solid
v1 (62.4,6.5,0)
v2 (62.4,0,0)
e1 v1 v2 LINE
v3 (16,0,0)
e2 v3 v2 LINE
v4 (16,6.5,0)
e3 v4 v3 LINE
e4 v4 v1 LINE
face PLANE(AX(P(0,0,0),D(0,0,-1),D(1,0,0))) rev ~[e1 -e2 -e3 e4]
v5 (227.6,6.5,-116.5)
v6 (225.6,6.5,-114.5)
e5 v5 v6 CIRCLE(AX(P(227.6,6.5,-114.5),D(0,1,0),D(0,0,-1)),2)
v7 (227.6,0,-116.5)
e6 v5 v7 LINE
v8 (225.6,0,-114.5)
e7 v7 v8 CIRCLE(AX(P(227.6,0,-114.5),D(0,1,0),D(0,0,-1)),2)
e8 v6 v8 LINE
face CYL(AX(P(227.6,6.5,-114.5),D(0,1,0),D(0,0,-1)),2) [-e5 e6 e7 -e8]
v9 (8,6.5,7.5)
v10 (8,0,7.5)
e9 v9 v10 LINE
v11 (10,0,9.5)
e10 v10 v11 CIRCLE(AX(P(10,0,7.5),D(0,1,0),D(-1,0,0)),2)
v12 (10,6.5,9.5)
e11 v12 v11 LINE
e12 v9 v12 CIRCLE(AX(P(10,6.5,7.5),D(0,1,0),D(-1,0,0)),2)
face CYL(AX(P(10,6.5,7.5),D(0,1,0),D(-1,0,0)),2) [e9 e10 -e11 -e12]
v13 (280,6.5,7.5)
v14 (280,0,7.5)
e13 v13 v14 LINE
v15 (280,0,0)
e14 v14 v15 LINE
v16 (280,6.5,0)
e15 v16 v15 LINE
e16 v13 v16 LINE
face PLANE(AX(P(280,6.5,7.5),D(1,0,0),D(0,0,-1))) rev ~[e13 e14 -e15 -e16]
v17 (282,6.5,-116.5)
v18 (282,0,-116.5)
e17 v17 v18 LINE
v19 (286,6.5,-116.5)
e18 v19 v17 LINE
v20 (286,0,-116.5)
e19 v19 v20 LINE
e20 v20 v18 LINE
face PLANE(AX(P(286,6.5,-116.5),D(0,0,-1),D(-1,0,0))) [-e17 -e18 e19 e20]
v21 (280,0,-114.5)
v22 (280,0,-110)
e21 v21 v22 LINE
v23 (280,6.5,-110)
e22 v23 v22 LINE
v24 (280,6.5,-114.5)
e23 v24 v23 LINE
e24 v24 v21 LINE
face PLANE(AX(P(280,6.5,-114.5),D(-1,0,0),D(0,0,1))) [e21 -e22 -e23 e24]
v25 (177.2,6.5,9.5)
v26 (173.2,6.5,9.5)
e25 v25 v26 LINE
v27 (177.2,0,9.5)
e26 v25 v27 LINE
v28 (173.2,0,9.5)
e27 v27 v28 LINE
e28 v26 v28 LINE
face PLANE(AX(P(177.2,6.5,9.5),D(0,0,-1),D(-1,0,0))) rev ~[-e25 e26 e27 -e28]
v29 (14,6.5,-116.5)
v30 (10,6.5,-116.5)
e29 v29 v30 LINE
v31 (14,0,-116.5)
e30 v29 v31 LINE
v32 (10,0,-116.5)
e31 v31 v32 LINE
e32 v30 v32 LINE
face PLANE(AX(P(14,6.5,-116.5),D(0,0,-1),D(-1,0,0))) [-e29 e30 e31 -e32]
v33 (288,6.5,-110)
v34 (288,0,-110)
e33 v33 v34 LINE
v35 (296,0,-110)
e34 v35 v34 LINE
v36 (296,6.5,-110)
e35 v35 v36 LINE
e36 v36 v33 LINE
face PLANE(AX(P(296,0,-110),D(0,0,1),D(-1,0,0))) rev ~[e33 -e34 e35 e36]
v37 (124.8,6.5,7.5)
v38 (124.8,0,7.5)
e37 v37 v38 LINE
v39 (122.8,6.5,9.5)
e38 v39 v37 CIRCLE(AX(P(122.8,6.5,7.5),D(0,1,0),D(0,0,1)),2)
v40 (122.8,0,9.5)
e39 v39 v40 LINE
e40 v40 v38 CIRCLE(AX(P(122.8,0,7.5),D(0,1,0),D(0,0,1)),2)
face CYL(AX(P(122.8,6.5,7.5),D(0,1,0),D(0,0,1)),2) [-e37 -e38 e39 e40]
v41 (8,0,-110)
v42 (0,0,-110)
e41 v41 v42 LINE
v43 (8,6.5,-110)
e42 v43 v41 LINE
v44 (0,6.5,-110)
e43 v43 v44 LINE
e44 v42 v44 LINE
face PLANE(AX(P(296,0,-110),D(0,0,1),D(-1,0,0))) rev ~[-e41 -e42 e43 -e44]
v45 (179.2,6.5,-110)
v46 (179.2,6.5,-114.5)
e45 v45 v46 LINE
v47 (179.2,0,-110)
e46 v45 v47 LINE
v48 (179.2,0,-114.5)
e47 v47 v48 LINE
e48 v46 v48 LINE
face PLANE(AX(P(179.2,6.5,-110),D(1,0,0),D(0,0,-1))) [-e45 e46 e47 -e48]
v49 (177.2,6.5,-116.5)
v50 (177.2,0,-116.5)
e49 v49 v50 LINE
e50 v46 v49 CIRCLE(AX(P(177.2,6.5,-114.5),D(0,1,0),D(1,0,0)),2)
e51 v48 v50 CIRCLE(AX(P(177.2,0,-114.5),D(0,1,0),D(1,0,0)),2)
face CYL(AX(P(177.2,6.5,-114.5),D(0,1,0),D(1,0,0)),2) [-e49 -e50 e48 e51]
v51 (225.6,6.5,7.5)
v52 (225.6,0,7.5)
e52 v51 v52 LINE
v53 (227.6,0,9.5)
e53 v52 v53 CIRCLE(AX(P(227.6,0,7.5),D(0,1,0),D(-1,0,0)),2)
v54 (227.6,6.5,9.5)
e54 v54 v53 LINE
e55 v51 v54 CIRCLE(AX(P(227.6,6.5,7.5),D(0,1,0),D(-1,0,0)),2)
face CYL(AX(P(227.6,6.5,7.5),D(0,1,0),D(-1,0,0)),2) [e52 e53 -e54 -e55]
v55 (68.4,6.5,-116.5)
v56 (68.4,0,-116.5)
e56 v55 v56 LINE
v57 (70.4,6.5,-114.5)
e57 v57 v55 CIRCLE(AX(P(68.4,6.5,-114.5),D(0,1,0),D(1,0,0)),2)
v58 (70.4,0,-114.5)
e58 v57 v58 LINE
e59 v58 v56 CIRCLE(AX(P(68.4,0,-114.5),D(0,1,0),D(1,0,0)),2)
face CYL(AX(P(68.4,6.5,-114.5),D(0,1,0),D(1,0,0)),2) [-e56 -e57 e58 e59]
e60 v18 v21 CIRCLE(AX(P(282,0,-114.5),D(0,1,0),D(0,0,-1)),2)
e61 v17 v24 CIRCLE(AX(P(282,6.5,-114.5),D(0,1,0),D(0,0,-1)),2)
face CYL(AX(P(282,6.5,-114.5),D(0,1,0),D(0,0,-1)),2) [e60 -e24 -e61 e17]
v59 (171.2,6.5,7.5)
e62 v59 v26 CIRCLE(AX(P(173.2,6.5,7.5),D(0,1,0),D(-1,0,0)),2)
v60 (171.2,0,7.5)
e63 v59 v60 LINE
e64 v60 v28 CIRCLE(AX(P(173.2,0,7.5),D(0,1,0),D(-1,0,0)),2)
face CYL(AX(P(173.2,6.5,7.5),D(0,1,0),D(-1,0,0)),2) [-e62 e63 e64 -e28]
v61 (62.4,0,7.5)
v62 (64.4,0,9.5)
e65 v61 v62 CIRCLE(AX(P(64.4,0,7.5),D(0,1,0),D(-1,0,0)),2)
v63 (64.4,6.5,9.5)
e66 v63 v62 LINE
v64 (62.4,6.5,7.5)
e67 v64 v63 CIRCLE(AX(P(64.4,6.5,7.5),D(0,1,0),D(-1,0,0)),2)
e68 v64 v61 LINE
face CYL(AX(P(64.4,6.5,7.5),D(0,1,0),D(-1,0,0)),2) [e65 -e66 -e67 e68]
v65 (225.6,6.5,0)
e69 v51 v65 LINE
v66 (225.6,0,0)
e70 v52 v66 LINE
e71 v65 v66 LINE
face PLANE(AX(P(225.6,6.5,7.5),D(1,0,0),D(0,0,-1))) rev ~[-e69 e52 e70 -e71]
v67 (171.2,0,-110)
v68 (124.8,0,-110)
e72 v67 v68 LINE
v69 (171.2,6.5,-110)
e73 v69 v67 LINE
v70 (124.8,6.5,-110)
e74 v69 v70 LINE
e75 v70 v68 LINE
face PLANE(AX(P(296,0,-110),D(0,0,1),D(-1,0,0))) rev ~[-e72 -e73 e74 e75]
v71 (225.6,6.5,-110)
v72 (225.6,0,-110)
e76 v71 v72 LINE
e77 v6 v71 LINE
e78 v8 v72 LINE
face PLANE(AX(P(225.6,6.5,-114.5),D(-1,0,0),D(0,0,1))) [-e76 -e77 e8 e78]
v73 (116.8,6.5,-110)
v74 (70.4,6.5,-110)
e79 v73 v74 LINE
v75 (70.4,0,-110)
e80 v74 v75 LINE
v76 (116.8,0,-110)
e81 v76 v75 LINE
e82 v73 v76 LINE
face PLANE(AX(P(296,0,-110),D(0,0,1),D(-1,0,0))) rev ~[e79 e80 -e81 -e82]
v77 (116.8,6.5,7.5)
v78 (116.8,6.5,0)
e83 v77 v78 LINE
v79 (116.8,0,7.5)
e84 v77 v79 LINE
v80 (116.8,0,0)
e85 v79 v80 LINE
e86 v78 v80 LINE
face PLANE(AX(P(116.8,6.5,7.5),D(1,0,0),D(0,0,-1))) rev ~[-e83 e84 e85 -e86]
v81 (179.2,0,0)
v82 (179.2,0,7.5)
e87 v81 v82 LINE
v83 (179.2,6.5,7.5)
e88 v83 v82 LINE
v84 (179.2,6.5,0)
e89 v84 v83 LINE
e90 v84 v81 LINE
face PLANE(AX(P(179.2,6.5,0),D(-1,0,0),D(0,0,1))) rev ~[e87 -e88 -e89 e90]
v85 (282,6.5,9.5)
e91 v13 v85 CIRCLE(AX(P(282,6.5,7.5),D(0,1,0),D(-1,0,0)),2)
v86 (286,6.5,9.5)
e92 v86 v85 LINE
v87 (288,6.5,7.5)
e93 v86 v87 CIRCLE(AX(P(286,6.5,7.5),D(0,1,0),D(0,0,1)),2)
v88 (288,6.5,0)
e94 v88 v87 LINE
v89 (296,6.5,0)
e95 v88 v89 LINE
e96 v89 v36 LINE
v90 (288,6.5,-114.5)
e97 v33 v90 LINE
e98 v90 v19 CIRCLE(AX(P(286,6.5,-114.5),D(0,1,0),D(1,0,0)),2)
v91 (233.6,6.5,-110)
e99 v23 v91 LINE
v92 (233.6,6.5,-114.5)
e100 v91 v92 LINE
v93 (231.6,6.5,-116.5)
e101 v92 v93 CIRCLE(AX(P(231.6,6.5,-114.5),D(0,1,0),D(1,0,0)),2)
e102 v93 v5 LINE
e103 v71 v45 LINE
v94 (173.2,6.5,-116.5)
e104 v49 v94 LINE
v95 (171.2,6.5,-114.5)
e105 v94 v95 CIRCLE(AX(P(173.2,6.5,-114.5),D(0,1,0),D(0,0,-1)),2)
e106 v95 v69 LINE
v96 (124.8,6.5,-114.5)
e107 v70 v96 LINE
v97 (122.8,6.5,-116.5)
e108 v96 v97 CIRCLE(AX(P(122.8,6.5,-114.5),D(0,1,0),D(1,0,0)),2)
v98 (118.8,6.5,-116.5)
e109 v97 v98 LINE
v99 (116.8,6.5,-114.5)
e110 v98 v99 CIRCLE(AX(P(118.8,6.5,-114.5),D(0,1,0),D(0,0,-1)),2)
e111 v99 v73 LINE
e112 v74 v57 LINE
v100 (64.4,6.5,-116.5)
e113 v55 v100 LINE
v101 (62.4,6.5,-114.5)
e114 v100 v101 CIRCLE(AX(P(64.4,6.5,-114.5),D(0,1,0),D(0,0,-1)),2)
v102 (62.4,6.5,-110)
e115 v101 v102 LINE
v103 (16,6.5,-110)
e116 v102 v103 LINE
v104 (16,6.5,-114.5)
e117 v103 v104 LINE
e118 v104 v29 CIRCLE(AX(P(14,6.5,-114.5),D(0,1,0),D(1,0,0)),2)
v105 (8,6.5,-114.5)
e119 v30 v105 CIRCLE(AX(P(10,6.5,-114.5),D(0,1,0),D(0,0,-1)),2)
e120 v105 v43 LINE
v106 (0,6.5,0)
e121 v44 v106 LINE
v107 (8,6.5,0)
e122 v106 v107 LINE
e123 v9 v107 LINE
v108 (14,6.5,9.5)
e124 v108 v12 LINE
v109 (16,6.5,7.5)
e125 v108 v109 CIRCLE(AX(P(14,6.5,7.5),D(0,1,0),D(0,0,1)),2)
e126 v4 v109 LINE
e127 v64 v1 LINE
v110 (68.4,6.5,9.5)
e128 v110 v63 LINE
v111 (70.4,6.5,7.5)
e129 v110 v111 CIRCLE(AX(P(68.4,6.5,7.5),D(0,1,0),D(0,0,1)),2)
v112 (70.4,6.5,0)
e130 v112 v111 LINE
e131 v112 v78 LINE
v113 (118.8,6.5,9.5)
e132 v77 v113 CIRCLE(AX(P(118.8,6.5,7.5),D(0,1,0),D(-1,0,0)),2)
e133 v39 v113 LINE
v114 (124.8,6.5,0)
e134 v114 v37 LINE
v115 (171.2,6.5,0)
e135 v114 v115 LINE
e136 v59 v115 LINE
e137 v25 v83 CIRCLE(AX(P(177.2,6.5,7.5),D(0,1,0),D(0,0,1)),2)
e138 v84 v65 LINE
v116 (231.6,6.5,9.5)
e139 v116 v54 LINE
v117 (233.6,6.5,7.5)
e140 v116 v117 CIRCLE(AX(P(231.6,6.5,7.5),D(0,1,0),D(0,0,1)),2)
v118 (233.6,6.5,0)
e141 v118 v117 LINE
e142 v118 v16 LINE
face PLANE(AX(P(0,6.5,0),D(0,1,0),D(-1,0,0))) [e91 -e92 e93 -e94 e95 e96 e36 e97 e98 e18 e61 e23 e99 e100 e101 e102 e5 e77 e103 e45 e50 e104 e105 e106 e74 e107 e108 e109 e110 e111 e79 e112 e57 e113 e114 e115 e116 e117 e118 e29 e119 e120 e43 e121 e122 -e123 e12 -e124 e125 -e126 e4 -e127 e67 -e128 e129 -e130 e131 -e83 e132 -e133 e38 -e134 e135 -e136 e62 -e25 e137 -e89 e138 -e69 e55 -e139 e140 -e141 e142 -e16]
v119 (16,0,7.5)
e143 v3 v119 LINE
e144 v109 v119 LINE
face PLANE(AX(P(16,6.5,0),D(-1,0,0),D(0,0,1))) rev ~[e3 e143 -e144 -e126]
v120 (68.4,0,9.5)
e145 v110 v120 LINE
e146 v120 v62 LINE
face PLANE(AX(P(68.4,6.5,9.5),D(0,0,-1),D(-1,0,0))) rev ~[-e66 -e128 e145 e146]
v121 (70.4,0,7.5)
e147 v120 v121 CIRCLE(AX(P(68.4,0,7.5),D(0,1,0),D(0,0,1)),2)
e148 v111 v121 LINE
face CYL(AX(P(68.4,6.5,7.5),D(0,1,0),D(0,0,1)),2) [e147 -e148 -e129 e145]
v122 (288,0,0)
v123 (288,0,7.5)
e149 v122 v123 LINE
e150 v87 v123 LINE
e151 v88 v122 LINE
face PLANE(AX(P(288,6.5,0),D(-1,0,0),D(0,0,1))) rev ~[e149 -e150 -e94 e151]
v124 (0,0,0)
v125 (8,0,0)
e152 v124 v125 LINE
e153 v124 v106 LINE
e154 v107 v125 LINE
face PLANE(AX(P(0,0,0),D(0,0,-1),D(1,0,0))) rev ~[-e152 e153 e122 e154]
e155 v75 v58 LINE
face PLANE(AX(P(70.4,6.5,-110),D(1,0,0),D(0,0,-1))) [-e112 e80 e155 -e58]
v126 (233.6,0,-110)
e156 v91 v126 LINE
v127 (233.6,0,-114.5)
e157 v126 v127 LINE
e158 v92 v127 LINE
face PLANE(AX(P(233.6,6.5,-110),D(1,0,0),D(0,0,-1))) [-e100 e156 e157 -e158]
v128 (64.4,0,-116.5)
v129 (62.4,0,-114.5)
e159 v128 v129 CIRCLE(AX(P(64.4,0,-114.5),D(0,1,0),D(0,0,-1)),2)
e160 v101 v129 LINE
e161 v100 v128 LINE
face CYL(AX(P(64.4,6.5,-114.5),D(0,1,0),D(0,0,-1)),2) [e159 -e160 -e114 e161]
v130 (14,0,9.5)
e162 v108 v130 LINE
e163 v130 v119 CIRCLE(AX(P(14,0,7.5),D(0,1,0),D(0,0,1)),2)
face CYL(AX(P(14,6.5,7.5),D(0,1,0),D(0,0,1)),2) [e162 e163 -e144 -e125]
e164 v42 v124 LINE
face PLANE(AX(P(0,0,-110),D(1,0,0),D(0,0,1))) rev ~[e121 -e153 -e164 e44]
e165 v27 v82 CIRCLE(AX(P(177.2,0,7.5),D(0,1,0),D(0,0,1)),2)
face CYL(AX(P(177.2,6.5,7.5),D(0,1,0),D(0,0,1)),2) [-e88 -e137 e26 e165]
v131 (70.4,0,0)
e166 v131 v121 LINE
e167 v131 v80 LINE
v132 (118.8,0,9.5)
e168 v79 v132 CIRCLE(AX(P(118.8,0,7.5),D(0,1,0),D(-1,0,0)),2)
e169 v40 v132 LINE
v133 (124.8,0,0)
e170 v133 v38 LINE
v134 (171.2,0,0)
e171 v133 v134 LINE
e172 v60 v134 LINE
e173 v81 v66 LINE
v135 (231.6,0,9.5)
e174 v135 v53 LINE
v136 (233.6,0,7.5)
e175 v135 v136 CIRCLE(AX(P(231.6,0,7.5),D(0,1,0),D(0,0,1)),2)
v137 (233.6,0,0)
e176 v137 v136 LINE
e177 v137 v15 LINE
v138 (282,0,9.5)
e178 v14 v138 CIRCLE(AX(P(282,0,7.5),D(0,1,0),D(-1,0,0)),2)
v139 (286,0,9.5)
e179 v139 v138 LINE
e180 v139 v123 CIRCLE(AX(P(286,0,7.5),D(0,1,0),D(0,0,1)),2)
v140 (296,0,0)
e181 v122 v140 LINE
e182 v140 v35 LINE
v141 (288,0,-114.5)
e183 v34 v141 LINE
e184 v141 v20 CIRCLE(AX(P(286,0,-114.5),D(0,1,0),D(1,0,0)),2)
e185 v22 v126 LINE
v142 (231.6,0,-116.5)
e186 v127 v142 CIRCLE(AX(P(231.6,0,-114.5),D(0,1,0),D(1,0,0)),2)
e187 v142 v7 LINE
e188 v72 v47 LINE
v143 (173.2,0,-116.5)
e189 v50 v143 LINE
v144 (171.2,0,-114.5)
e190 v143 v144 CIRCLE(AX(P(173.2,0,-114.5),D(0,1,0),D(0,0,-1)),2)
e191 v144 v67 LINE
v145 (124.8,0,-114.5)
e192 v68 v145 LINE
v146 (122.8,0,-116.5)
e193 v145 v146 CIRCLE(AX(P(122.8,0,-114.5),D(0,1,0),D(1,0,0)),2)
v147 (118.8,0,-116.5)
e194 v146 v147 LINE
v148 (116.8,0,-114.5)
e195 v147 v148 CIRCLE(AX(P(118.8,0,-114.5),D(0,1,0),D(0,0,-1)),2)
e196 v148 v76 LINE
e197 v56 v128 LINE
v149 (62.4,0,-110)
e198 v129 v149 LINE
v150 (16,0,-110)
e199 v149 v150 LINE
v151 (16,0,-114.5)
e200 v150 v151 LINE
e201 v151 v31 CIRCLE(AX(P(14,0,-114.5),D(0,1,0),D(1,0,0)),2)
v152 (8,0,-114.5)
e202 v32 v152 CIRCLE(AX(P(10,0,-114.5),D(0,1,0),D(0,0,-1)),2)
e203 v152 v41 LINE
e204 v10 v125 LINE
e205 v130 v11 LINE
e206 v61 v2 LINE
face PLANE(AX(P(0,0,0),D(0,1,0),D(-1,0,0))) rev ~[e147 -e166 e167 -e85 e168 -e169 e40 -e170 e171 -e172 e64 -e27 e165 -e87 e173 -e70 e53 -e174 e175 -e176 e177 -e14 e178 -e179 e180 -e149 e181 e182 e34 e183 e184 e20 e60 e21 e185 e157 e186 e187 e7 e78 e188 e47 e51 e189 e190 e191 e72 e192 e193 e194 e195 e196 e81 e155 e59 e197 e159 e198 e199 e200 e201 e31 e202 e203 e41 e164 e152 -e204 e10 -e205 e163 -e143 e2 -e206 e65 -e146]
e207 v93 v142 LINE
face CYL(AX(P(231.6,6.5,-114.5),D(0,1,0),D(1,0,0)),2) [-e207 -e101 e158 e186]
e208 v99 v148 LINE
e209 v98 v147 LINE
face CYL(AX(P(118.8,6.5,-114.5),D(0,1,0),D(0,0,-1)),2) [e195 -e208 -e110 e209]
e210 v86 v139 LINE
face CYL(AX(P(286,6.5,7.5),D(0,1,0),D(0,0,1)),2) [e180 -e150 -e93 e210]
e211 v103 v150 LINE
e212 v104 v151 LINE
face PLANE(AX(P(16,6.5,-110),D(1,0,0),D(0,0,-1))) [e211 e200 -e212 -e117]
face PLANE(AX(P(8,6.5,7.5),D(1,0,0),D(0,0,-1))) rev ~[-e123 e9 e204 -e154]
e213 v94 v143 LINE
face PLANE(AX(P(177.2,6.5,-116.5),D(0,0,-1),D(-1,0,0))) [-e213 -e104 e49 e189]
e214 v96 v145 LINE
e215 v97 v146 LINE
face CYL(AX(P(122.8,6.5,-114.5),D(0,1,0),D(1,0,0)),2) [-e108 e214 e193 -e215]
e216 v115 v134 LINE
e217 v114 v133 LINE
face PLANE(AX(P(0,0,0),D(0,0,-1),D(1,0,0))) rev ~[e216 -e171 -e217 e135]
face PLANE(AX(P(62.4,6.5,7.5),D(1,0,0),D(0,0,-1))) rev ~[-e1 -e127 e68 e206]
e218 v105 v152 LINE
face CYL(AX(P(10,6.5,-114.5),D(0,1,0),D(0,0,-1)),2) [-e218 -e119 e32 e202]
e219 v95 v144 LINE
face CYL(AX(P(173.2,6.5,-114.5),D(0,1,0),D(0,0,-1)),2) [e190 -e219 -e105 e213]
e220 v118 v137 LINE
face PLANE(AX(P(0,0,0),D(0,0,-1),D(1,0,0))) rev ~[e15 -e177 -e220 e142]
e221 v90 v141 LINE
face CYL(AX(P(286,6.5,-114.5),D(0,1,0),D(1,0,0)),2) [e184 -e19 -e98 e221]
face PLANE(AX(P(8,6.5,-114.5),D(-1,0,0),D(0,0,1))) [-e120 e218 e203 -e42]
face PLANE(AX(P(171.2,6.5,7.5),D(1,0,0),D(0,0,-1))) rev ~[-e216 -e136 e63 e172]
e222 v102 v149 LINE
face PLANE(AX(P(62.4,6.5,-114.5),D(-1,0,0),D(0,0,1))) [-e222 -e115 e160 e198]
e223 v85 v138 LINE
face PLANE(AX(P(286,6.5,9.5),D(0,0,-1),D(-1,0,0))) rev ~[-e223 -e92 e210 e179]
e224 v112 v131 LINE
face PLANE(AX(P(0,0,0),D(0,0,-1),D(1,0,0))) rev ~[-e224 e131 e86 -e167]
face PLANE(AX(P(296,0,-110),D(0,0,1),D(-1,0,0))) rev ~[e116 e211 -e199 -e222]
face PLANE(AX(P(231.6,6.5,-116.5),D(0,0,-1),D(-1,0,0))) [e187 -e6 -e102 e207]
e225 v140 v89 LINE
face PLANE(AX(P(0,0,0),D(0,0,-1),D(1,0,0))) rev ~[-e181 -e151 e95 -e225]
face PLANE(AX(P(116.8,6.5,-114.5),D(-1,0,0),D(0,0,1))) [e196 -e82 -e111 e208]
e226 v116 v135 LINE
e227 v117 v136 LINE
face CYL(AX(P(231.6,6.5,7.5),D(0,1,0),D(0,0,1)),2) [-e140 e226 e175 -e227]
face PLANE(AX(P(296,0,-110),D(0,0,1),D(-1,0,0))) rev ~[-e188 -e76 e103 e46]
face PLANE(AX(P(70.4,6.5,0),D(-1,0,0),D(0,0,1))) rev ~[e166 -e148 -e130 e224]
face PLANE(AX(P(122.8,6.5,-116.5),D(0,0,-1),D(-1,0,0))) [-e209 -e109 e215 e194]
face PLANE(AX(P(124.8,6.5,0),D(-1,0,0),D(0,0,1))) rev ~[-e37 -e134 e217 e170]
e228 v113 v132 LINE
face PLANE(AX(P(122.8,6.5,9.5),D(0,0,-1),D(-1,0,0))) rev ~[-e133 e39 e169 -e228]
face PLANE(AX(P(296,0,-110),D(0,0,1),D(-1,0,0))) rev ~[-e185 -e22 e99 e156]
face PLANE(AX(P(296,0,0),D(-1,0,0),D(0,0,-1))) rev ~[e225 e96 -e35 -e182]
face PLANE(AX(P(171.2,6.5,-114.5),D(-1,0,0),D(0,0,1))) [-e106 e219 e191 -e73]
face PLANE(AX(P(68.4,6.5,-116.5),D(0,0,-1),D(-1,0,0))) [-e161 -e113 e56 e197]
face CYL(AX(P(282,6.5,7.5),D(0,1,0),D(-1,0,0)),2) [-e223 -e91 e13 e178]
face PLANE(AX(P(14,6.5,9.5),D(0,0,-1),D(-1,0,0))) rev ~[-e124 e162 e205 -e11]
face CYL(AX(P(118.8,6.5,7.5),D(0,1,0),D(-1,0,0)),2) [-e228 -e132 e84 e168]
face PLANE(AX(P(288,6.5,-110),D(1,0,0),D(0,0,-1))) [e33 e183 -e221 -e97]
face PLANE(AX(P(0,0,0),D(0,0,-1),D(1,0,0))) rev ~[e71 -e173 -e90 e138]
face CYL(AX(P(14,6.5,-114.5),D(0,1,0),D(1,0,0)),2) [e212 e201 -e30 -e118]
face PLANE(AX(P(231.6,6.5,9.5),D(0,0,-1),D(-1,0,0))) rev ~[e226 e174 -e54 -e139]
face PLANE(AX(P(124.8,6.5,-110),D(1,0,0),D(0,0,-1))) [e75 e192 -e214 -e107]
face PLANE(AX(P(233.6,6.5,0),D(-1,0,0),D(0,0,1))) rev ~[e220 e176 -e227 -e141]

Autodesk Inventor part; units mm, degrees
ref_plane "YZ Plane" through (0, 0, 0) normal (1, 0, 0) x (0, 1, 0)
ref_plane "XZ Plane" through (0, 0, 0) normal (0, 1, 0) x (-1, 0, 0)
ref_plane "XY Plane" through (0, 0, 0) normal (0, 0, 1) x (1, 0, 0)
sketch "Sketch1" plane through (0, 0, 0) normal (0, 1, 0) x (-1, 0, 0)
  line L0 (0, 0) -> (-296, 0)
  line L1 (-296, 0) -> (-296, -110)
  line L2 (-296, -110) -> (0, -110)
  line L3 (0, -110) -> (0, 0)
  dimension "d0" = 296
  dimension "d1" = 110
extrude "Extrusion1" add sketch "Sketch1" along normal blind 6.5
sketch "Sketch2" plane through (0, 6.5, 0) normal (0, 1, 0) x (1, 0, 0)
  line L0 (296, 0) -> (296, 110) projected
  line L1 (296, 110) -> (0, 110) projected
  line L2 (0, 110) -> (0, 0) projected
  line L3 (8, 110) -> (16, 110)
  line L4 (16, 110) -> (16, 114.5)
  line L5 (14, 116.5) -> (10, 116.5)
  line L6 (8, 114.5) -> (8, 110)
  line L7 (62.4, 110) -> (70.4, 110)
  line L8 (70.4, 110) -> (70.4, 114.5)
  line L9 (68.4, 116.5) -> (64.4, 116.5)
  line L10 (62.4, 114.5) -> (62.4, 110)
  line L11 (116.8, 110) -> (124.8, 110)
  line L12 (124.8, 110) -> (124.8, 114.5)
  line L13 (122.8, 116.5) -> (118.8, 116.5)
  line L14 (116.8, 114.5) -> (116.8, 110)
  line L15 (171.2, 110) -> (179.2, 110)
  line L16 (179.2, 110) -> (179.2, 114.5)
  line L17 (177.2, 116.5) -> (173.2, 116.5)
  line L18 (171.2, 114.5) -> (171.2, 110)
  line L19 (225.6, 110) -> (233.6, 110)
  line L20 (233.6, 110) -> (233.6, 114.5)
  line L21 (231.6, 116.5) -> (227.6, 116.5)
  line L22 (225.6, 114.5) -> (225.6, 110)
  line L23 (280, 110) -> (288, 110)
  line L24 (288, 110) -> (288, 114.5)
  line L25 (286, 116.5) -> (282, 116.5)
  line L26 (280, 114.5) -> (280, 110)
  arc A0 (10, 116.5) -> (8, 114.5) centre (10, 114.5) ccw
  arc A1 (16, 114.5) -> (14, 116.5) centre (14, 114.5) ccw
  arc A2 (64.4, 116.5) -> (62.4, 114.5) centre (64.4, 114.5) ccw
  arc A3 (70.4, 114.5) -> (68.4, 116.5) centre (68.4, 114.5) ccw
  arc A4 (118.8, 116.5) -> (116.8, 114.5) centre (118.8, 114.5) ccw
  arc A5 (124.8, 114.5) -> (122.8, 116.5) centre (122.8, 114.5) ccw
  arc A6 (173.2, 116.5) -> (171.2, 114.5) centre (173.2, 114.5) ccw
  arc A7 (179.2, 114.5) -> (177.2, 116.5) centre (177.2, 114.5) ccw
  arc A8 (227.6, 116.5) -> (225.6, 114.5) centre (227.6, 114.5) ccw
  arc A9 (233.6, 114.5) -> (231.6, 116.5) centre (231.6, 114.5) ccw
  arc A10 (282, 116.5) -> (280, 114.5) centre (282, 114.5) ccw
  arc A11 (288, 114.5) -> (286, 116.5) centre (286, 114.5) ccw
  line L27 (16, 112.25) -> (62.4, 112.25) construction
  line L28 (70.4, 112.25) -> (116.8, 112.25) construction
  line L29 (124.8, 112.25) -> (171.2, 112.25) construction
  line L30 (179.2, 112.25) -> (225.6, 112.25) construction
  line L31 (233.6, 112.25) -> (280, 112.25) construction
  line L32 (0, 55) -> (296, 55) construction
  line L33 (0, 0) -> (296, 0) projected
  line L34 (296, 0) -> (296, 110) projected
  line L35 (296, 110) -> (0, 110) projected
  line L36 (0, 110) -> (0, 0) projected
  line L37 (8, 0) -> (16, 0)
  line L38 (16, 0) -> (16, -7.5)
  line L39 (14, -9.5) -> (10, -9.5)
  line L40 (8, -7.5) -> (8, 0)
  line L41 (62.4, 0) -> (70.4, 0)
  line L42 (70.4, 0) -> (70.4, -7.5)
  line L43 (68.4, -9.5) -> (64.4, -9.5)
  line L44 (62.4, -7.5) -> (62.4, 0)
  line L45 (116.8, 0) -> (124.8, 0)
  line L46 (124.8, 0) -> (124.8, -7.5)
  line L47 (122.8, -9.5) -> (118.8, -9.5)
  line L48 (116.8, -7.5) -> (116.8, 0)
  line L49 (171.2, 0) -> (179.2, 0)
  line L50 (179.2, 0) -> (179.2, -7.5)
  line L51 (177.2, -9.5) -> (173.2, -9.5)
  line L52 (171.2, -7.5) -> (171.2, 0)
  line L53 (225.6, 0) -> (233.6, 0)
  line L54 (233.6, 0) -> (233.6, -7.5)
  line L55 (231.6, -9.5) -> (227.6, -9.5)
  line L56 (225.6, -7.5) -> (225.6, 0)
  line L57 (280, 0) -> (288, 0)
  line L58 (288, 0) -> (288, -7.5)
  line L59 (286, -9.5) -> (282, -9.5)
  line L60 (280, -7.5) -> (280, 0)
  arc A12 (8, -7.5) -> (10, -9.5) centre (10, -7.5) ccw
  arc A13 (14, -9.5) -> (16, -7.5) centre (14, -7.5) ccw
  arc A14 (62.4, -7.5) -> (64.4, -9.5) centre (64.4, -7.5) ccw
  arc A15 (68.4, -9.5) -> (70.4, -7.5) centre (68.4, -7.5) ccw
  arc A16 (116.8, -7.5) -> (118.8, -9.5) centre (118.8, -7.5) ccw
  arc A17 (122.8, -9.5) -> (124.8, -7.5) centre (122.8, -7.5) ccw
  arc A18 (171.2, -7.5) -> (173.2, -9.5) centre (173.2, -7.5) ccw
  arc A19 (177.2, -9.5) -> (179.2, -7.5) centre (177.2, -7.5) ccw
  arc A20 (225.6, -7.5) -> (227.6, -9.5) centre (227.6, -7.5) ccw
  arc A21 (231.6, -9.5) -> (233.6, -7.5) centre (231.6, -7.5) ccw
  arc A22 (280, -7.5) -> (282, -9.5) centre (282, -7.5) ccw
  arc A23 (286, -9.5) -> (288, -7.5) centre (286, -7.5) ccw
  dimension "d4" = 2
  dimension "d5" = 8
  dimension "d6" = 8
  dimension "d7" = 8
  dimension "d8" = 8
  dimension "d9" = 8
  dimension "d10" = 8
  dimension "d11" = 6.5
  dimension "d12" = 8
  dimension "d13" = 8
  dimension "d16" = 2
  dimension "d17" = 9.5
extrude "Extrusion3" add sketch "Sketch2" against normal blind 6.5 contours L58 A23 L59 A22 L60 L33 | L1 L26 A10 L25 A11 L24 | L54 A21 L55 A20 L56 L33 | L1 L22 A8 L21 A9 L20 | L50 A19 L51 A18 L52 L33 | L1 L18 A6 L17 A7 L16 | L46 A17 L47 A16 L48 L33 | L1 L14 A4 L13 A5 L12 | L42 A15 L43 A14 L44 L33 | L1 L10 A2 L9 A3 L8 | L38 A13 L39 A12 L40 L33 | L1 L6 A0 L5 A1 L4
equation "\"d6\" = d5"
equation "\"d7\" = d6"
equation "\"d8\" = d7"
equation "\"d9\" = d8"
equation "\"d10\" = d9"
equation "\"d13\" = d12"
properties part number "spool_stand_brace_bottom" material "Plywood, Finish"
